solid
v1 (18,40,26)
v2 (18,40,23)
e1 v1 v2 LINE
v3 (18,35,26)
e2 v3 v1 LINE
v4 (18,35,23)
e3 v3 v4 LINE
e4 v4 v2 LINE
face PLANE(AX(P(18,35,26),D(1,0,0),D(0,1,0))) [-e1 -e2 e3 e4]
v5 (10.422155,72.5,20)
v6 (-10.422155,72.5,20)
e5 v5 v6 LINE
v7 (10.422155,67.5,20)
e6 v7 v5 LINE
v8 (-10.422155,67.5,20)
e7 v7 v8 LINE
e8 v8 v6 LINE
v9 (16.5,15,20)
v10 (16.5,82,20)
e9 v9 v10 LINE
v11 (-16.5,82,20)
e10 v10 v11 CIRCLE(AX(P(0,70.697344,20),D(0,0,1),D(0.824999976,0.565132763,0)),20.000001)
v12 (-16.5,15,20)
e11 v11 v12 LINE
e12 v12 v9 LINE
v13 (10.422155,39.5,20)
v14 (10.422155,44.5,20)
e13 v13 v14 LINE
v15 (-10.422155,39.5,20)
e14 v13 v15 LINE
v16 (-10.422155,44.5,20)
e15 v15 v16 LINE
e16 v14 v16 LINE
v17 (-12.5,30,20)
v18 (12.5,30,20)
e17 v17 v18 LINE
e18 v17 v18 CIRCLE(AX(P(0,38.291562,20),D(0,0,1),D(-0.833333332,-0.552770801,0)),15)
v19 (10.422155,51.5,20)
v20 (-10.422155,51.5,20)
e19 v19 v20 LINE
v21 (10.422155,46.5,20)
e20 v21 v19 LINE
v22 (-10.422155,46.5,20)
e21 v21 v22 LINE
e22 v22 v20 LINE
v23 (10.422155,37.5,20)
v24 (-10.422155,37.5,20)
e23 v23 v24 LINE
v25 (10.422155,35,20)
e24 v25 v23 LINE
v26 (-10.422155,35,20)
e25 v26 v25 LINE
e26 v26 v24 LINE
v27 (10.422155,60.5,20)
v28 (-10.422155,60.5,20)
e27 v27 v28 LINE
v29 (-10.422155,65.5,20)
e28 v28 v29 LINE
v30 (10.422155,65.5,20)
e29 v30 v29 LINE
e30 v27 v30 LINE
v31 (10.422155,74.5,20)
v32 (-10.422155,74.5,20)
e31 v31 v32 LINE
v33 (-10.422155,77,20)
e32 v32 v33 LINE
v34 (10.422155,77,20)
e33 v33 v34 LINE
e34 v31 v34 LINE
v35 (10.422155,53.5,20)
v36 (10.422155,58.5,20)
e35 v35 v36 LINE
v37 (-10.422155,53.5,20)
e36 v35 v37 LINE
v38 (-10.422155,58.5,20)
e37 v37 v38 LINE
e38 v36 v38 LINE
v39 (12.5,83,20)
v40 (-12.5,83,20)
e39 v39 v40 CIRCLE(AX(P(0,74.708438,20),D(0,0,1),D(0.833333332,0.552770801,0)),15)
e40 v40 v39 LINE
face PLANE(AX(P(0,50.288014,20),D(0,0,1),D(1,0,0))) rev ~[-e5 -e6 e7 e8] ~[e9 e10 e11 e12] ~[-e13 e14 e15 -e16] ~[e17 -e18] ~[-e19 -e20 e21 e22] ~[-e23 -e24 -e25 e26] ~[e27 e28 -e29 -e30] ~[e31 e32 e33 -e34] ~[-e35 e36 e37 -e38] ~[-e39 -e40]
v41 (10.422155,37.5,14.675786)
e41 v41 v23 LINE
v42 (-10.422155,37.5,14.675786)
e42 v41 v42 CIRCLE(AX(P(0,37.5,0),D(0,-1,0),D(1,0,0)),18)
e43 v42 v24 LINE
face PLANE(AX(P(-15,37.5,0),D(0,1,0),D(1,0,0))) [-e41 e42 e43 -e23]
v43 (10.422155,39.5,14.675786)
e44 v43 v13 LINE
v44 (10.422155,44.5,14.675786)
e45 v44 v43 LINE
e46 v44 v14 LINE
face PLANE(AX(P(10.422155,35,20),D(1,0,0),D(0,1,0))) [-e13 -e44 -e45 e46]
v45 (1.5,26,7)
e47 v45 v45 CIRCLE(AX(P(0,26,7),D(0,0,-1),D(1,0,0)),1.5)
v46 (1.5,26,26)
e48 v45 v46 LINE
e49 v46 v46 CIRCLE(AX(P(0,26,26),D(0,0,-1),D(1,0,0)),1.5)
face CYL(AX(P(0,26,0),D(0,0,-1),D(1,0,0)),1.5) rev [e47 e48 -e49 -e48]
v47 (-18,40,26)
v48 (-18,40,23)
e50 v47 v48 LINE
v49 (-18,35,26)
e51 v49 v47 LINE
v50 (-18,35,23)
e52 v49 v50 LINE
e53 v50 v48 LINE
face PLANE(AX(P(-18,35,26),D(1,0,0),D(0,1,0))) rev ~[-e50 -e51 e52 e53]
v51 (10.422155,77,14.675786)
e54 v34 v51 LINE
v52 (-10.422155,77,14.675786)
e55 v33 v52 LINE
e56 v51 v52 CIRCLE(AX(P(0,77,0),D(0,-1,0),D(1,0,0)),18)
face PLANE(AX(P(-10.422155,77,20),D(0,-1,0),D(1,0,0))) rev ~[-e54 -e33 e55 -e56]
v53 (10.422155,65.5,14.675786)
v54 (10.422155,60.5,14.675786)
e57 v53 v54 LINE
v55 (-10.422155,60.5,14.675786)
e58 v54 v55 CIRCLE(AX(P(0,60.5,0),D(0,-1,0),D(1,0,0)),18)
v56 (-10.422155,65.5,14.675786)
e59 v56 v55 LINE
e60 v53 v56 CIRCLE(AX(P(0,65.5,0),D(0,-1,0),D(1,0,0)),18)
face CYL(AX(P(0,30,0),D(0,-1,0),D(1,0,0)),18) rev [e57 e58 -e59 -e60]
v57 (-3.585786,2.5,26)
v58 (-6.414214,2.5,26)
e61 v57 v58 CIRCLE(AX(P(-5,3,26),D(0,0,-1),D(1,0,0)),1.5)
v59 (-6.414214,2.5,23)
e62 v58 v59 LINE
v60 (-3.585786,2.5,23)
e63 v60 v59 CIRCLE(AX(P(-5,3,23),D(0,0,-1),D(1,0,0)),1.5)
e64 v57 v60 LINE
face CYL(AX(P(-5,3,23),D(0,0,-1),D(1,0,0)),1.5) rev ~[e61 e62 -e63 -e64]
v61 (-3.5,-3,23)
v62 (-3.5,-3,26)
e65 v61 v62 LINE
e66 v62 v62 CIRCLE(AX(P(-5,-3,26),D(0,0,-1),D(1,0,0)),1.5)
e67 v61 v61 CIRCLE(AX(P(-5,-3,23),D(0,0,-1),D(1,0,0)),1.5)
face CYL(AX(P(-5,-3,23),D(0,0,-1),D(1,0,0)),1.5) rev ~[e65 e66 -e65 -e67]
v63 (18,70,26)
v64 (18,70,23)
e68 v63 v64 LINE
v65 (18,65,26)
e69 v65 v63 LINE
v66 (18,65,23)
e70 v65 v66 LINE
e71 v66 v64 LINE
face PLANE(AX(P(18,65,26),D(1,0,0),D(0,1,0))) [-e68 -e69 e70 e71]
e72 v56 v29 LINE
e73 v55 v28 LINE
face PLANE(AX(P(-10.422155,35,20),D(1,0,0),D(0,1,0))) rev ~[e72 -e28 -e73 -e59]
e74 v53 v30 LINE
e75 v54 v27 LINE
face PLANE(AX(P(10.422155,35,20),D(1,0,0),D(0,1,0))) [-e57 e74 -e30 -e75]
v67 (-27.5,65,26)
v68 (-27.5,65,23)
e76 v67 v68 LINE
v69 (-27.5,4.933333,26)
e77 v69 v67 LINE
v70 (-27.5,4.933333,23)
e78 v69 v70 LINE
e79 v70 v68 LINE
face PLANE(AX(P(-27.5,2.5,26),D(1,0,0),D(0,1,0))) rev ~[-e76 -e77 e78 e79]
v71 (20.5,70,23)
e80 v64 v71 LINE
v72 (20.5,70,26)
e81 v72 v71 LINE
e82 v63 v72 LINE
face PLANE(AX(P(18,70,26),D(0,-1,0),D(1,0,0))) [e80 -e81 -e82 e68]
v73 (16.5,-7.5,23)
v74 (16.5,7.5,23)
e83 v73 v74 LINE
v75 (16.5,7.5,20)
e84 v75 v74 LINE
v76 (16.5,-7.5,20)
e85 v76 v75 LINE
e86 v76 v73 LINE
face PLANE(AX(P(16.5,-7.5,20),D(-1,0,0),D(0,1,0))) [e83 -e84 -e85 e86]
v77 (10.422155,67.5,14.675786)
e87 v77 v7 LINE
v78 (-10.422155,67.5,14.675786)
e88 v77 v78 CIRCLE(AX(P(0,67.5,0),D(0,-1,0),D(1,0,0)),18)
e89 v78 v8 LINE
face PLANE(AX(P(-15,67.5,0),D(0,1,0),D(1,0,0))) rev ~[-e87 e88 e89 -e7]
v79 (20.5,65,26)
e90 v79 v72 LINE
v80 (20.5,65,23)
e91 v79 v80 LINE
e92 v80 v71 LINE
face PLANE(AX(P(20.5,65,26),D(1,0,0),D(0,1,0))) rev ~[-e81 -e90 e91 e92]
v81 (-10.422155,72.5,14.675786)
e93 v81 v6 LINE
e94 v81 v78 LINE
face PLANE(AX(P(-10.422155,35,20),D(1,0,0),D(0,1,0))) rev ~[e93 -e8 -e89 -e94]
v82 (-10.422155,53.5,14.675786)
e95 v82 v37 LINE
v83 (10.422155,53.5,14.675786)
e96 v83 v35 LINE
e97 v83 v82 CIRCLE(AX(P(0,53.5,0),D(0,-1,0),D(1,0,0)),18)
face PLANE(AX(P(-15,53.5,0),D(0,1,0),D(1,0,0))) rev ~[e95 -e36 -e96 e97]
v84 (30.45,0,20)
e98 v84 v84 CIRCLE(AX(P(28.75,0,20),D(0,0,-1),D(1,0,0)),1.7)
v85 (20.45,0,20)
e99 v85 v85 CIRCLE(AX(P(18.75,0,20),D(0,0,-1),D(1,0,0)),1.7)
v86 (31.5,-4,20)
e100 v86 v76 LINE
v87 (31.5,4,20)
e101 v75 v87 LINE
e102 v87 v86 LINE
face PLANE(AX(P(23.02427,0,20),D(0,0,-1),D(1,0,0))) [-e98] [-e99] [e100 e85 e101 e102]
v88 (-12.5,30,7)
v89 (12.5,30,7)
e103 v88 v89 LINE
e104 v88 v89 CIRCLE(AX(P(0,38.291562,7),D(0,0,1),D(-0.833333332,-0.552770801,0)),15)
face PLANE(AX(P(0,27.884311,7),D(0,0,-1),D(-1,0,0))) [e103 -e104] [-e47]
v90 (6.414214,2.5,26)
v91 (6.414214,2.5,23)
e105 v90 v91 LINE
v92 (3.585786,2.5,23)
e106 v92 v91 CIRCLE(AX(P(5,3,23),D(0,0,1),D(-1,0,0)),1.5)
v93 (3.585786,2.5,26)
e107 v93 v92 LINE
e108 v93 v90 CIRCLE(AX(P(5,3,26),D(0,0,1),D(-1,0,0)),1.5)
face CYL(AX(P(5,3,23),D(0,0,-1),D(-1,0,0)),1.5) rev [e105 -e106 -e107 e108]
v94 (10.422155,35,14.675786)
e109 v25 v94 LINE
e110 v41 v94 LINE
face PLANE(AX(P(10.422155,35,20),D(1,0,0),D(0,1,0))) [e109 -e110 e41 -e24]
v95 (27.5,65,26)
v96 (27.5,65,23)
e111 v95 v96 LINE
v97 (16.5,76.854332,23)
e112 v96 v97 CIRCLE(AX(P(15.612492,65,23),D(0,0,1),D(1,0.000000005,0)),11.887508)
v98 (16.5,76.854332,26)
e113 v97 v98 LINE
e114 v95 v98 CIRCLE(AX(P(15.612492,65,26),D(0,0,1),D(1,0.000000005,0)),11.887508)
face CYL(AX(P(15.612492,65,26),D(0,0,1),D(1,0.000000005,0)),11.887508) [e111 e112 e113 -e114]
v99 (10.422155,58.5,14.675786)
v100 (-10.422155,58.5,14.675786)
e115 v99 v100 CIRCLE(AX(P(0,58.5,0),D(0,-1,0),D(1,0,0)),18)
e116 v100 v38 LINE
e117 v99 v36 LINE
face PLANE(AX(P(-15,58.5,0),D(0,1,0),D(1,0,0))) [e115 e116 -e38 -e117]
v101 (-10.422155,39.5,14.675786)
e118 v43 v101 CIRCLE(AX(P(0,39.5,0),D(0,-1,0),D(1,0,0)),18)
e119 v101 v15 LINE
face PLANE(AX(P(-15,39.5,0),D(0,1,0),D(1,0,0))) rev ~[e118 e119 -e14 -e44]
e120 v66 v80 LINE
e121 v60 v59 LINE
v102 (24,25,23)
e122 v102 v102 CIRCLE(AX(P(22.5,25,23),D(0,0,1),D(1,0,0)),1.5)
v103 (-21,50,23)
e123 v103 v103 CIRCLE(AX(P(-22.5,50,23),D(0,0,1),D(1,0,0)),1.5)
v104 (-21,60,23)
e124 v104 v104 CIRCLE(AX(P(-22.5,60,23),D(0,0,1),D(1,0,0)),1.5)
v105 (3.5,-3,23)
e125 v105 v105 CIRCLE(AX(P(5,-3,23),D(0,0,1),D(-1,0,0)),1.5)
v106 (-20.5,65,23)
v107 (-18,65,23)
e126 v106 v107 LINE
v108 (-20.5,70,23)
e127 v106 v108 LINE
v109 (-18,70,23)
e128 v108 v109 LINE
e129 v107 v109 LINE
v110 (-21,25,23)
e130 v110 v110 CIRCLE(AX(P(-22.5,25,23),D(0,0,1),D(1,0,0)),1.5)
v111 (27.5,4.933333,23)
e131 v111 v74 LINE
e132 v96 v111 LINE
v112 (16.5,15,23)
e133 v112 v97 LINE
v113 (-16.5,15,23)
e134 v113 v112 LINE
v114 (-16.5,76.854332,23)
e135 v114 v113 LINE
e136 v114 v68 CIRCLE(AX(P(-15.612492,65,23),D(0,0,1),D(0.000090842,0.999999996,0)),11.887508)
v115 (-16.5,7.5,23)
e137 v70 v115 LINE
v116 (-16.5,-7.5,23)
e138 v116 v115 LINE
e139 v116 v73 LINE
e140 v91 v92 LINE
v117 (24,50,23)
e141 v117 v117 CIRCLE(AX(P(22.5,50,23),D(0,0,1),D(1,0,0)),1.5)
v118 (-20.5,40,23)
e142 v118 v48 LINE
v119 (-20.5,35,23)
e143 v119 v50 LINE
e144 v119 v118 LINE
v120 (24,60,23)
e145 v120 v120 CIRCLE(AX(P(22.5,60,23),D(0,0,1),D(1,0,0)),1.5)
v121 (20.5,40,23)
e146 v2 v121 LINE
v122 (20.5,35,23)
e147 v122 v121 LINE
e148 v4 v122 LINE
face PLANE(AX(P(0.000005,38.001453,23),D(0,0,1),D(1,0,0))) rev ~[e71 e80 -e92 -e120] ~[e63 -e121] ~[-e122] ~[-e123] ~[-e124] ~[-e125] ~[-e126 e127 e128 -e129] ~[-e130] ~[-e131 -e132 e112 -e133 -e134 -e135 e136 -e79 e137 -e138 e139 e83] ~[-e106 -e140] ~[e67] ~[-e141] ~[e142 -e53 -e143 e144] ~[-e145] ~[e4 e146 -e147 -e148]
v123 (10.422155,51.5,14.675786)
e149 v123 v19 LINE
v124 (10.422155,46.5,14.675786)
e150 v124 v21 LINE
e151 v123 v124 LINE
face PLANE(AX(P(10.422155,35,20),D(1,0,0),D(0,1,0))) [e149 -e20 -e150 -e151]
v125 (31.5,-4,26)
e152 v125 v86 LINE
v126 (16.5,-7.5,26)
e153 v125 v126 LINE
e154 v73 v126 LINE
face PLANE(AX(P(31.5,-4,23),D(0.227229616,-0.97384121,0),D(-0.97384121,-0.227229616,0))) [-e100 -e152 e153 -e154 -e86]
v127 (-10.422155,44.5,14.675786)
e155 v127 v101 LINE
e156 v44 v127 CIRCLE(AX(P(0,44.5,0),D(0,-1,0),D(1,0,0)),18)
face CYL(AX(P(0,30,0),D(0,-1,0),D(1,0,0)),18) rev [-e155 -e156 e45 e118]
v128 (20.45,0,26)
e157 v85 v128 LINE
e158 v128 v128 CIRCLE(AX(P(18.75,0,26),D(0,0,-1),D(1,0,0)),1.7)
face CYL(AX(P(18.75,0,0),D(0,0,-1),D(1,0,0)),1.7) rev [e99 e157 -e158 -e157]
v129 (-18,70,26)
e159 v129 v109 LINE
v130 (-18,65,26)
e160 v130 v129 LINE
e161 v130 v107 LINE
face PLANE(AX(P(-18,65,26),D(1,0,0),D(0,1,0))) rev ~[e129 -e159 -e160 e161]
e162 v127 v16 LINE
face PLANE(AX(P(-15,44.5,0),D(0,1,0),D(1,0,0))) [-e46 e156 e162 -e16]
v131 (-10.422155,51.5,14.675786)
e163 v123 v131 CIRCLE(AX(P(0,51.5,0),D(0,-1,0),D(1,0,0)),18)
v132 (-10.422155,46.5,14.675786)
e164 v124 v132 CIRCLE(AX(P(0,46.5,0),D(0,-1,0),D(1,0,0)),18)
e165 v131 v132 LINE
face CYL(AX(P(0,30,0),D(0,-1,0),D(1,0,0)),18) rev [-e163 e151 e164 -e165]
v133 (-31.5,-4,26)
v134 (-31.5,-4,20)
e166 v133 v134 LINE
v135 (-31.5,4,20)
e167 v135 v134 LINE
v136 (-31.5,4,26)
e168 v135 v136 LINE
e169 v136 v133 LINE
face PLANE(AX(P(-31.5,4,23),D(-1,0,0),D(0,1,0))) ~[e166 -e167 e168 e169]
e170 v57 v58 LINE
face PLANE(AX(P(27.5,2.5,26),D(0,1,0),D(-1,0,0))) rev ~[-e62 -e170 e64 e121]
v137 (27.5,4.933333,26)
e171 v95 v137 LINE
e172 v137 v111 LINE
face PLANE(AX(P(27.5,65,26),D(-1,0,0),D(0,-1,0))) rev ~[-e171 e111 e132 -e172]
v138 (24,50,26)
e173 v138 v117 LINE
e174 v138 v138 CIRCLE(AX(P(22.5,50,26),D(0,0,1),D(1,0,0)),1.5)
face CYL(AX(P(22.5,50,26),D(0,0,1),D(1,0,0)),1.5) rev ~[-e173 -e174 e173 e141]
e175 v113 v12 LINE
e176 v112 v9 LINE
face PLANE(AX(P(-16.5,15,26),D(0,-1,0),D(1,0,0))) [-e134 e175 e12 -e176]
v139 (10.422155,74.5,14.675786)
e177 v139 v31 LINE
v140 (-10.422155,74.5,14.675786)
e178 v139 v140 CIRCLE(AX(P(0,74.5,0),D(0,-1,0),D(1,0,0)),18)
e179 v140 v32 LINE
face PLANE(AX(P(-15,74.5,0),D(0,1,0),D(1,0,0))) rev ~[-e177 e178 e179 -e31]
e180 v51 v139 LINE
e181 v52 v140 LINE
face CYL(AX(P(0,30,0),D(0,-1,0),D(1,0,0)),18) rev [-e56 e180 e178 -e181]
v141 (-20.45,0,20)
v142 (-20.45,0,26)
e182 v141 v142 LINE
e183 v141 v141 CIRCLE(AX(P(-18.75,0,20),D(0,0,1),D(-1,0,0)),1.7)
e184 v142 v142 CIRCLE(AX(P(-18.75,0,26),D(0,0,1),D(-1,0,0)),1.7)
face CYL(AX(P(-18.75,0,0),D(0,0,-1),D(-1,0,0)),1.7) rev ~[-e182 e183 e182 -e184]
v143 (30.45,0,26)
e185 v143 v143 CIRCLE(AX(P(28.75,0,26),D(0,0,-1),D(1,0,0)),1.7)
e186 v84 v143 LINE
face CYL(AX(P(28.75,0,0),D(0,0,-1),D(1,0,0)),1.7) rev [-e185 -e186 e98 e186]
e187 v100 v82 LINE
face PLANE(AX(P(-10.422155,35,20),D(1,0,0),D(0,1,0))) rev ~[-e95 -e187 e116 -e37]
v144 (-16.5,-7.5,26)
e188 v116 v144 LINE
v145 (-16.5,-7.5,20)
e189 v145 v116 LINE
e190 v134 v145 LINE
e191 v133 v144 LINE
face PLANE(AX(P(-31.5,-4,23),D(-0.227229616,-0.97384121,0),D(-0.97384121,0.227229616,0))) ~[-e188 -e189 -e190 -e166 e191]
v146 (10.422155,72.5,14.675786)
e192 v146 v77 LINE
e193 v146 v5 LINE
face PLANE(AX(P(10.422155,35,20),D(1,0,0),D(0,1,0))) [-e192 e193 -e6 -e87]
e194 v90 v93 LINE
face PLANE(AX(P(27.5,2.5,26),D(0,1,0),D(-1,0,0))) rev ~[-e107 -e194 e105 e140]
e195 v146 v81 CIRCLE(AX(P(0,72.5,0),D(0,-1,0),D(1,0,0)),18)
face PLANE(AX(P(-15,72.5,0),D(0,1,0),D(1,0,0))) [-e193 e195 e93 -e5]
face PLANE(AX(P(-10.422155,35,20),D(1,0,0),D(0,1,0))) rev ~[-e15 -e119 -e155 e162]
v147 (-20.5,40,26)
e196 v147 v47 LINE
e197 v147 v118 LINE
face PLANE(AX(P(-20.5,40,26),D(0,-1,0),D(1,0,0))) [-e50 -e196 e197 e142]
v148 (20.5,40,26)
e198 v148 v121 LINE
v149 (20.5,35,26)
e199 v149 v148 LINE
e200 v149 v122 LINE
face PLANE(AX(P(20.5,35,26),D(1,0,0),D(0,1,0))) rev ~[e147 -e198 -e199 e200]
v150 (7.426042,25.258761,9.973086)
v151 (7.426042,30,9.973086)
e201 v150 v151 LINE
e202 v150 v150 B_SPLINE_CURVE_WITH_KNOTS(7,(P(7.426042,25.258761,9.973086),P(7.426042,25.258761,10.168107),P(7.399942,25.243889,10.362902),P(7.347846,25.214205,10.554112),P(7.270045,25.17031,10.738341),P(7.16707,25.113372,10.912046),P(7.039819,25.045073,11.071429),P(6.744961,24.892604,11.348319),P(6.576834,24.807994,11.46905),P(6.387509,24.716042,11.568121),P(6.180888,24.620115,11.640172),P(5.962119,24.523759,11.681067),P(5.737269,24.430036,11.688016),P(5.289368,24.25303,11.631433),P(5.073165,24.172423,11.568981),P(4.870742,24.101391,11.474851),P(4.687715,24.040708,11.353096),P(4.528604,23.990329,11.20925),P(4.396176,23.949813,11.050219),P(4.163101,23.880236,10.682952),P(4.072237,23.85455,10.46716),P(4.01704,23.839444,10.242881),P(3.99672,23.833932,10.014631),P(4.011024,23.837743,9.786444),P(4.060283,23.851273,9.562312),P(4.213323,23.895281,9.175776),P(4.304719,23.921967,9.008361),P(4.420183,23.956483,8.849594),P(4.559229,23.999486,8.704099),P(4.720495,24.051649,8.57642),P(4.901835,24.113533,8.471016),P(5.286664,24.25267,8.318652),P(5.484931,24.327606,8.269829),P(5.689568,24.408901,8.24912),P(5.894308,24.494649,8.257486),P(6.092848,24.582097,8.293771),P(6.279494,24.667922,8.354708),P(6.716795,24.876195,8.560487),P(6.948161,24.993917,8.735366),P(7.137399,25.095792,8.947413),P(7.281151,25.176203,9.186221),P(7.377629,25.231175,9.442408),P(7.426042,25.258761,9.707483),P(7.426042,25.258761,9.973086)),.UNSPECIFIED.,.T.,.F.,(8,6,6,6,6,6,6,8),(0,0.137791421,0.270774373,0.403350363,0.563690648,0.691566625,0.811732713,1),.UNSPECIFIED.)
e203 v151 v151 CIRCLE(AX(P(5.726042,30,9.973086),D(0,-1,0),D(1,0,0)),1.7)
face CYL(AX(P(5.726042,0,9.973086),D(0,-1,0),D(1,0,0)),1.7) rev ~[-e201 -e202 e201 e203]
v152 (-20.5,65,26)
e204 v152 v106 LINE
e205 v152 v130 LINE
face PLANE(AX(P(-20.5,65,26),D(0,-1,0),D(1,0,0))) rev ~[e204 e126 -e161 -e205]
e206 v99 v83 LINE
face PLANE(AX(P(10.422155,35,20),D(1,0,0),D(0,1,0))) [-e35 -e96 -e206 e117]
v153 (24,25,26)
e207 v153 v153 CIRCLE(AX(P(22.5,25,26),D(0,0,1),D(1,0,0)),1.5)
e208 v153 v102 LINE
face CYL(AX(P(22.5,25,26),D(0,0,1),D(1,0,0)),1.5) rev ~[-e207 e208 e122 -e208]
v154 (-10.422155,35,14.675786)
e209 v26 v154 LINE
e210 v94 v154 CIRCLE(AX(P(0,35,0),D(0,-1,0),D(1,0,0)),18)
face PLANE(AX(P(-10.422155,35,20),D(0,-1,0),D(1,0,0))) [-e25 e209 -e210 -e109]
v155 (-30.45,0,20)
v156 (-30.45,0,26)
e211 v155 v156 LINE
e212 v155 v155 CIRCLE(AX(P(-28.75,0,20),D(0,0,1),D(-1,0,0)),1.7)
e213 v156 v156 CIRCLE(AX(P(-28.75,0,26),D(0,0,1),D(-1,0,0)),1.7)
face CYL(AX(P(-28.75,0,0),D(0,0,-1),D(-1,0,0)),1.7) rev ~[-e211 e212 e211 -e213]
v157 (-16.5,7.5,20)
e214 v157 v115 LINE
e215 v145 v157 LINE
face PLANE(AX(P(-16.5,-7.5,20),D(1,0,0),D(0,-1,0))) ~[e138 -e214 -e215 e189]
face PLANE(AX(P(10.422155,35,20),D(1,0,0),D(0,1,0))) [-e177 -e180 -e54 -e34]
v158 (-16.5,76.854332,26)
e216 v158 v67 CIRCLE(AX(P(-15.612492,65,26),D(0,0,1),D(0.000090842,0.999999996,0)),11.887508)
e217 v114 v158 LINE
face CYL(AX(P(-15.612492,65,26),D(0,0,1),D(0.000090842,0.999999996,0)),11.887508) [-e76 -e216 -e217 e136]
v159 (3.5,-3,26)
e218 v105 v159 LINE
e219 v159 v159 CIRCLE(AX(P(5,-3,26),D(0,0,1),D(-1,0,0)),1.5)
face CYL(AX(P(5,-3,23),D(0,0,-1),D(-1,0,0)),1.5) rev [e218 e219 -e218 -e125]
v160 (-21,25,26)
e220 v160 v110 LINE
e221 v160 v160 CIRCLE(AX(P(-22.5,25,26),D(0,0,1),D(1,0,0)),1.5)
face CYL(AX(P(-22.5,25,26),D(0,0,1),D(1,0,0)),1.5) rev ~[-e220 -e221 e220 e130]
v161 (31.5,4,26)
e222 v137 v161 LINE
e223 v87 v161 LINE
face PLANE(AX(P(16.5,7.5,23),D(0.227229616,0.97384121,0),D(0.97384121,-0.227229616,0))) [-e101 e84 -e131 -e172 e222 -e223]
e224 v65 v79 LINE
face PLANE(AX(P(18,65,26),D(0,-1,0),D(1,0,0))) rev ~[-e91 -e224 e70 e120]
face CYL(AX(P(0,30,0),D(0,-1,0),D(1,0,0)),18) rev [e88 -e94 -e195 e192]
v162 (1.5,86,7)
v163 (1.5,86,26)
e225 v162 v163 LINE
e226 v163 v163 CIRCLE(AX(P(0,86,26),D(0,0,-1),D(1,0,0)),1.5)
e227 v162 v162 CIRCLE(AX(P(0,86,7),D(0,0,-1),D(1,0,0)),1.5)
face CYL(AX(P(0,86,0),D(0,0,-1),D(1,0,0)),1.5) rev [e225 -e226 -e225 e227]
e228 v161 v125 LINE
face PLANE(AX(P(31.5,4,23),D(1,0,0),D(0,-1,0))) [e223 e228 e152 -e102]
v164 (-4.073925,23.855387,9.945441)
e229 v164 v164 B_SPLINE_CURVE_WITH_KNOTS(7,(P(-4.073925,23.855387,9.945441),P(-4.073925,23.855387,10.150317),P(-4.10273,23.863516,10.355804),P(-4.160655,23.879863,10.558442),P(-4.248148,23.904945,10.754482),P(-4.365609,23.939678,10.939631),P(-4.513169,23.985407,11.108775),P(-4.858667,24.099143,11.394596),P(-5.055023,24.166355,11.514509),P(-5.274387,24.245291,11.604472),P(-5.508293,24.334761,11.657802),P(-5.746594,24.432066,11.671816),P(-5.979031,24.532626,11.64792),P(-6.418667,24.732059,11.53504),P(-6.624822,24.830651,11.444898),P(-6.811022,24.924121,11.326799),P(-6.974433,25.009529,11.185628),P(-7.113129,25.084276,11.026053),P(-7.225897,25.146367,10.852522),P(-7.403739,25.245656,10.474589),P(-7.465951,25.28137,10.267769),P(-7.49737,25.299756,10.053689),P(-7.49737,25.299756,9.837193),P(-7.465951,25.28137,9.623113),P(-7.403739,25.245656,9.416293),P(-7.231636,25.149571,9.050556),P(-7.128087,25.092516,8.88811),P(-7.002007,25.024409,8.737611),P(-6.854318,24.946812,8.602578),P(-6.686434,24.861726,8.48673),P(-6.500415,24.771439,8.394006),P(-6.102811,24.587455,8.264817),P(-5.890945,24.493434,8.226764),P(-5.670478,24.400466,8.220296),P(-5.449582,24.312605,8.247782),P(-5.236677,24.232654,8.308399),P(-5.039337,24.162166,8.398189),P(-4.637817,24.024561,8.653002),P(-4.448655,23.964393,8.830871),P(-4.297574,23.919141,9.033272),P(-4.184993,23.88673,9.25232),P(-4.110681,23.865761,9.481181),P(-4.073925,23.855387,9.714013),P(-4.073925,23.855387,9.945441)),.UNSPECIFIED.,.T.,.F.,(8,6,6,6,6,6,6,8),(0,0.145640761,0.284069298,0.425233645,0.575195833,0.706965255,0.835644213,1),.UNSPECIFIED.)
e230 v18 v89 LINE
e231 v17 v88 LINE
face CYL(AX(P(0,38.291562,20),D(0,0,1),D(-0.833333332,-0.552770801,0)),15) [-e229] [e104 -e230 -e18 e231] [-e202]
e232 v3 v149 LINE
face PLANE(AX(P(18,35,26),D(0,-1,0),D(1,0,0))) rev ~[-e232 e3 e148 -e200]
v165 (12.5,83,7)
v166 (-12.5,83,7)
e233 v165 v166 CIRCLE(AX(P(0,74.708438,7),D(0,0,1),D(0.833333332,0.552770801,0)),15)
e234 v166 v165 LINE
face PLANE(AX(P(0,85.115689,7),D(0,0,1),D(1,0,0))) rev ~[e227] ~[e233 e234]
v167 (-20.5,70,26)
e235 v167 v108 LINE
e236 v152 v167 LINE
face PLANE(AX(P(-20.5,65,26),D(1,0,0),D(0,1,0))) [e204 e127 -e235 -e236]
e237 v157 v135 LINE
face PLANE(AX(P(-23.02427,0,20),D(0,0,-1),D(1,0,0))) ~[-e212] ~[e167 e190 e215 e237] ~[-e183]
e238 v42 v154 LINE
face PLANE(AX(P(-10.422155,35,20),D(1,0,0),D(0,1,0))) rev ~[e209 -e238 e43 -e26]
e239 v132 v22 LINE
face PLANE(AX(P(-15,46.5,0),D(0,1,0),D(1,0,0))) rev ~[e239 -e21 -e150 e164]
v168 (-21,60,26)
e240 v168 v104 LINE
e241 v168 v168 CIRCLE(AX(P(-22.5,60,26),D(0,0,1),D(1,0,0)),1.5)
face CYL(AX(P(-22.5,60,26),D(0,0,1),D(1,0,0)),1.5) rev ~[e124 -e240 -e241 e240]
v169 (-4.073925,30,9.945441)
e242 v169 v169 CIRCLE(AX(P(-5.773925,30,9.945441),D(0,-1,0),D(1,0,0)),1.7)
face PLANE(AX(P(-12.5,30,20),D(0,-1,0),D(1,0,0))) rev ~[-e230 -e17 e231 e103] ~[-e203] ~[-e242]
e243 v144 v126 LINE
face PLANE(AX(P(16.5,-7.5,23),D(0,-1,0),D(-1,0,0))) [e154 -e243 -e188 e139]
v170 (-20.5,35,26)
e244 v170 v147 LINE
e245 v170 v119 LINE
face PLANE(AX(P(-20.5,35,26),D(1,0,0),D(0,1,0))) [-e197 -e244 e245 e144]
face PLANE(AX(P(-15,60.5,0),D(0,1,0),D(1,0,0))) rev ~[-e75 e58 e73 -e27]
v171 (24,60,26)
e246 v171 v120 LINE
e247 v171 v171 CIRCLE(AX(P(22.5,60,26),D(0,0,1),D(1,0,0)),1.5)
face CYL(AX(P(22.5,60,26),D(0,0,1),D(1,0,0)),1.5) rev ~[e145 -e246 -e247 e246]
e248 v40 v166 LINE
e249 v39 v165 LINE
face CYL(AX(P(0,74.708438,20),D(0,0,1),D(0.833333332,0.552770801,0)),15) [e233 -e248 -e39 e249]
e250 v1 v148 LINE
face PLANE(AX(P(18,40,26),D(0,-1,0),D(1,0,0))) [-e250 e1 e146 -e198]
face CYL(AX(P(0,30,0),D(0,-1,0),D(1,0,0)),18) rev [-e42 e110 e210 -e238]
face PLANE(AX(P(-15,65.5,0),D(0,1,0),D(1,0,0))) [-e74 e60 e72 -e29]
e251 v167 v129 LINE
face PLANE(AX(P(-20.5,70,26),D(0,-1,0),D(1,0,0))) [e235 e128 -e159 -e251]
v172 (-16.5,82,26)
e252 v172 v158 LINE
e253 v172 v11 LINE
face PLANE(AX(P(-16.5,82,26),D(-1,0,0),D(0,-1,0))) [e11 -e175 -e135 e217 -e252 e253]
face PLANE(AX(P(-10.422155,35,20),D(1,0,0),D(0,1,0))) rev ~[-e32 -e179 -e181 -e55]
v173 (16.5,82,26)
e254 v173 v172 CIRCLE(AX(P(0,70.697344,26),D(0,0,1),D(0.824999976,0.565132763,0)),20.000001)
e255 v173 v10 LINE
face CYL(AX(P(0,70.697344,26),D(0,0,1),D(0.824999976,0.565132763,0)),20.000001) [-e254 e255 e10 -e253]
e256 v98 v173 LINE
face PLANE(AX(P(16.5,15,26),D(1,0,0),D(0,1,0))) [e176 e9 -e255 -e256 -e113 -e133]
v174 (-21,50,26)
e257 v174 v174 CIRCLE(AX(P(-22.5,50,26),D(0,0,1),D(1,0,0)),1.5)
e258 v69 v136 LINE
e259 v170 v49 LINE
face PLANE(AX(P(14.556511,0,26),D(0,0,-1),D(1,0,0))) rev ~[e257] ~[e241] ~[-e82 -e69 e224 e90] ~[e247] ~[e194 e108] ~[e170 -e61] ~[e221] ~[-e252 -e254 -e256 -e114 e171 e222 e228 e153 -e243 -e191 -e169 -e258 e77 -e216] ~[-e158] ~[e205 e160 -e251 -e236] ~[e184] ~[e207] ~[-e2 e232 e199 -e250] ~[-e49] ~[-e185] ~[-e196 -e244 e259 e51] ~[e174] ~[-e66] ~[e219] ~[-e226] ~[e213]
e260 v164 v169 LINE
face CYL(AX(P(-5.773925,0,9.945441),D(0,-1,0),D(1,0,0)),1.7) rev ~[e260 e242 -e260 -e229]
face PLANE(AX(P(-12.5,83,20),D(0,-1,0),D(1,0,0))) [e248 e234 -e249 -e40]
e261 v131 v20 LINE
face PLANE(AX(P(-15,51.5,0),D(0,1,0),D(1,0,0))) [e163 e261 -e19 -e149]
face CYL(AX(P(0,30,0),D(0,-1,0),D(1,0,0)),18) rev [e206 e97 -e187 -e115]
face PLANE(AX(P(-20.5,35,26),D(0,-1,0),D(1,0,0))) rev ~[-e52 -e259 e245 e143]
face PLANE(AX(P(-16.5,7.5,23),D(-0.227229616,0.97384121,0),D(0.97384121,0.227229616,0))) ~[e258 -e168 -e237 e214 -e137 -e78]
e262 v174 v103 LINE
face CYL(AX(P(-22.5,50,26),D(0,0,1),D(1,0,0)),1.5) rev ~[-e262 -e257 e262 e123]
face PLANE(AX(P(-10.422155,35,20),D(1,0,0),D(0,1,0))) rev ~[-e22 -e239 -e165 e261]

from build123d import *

# Parameters (mm, degrees)
SKETCH093_R            = 1.5
PAD070_DEPTH           = 100
CYLINDER003_R          = 6
CYLINDER003_DEPTH      = 80
CYLINDER003_ROLL_ANGLE = -90
CYLINDER004_R          = 18
CYLINDER004_DEPTH      = 52.25
CYLINDER004_ROLL_ANGLE = -90
CHAMFER005_SIZE        = 3
SKETCH060_W            = 30
SKETCH060_H            = 2
PAD043_DEPTH           = 100
ARRAY001_Y_COUNT       = 15
ARRAY001_Y_PITCH       = 7
SKETCH059_W            = 20.84431
SKETCH059_H            = 42
PAD042_DEPTH           = 10
SKETCH062_R            = 1.7
PAD045_DEPTH           = 40
PAD044_DEPTH           = 13
PAD068_DEPTH           = 6
SKETCH090_R            = 1.7
PAD067_DEPTH           = 100
SKETCH089_R            = 1.5
PAD066_DEPTH           = 3
PAD065_DEPTH           = 3
SKETCH092_R            = 1.5
SKETCH092_W            = 2.5
SKETCH092_H            = 5
PAD069_DEPTH           = 3


with BuildPart() as pad070:
    # Sketch093 → Pad070 (new body)
    with BuildSketch(Plane.XY):
        with Locations((0, 86)):
            Circle(SKETCH093_R)
        with Locations((0, 26)):
            Circle(SKETCH093_R)
    extrude(amount=PAD070_DEPTH)


with BuildPart() as axlestubcutout:
    # Cylinder003 → Cylinder003 (new body)
    with BuildSketch(Plane.XY):
        Circle(CYLINDER003_R)
    extrude(amount=CYLINDER003_DEPTH)


with BuildPart() as axlestubcutout_1:
    # Cylinder003 roll: moved
    add(axlestubcutout.part.rotate(Axis((0, 0, 0), (1, 0, 0)), CYLINDER003_ROLL_ANGLE))


with BuildPart() as axlestubcutout_2:
    # Cylinder003 placement: moved
    add(axlestubcutout_1.part)


with BuildPart() as motorcutout:
    # Cylinder004 → Cylinder004 (new body)
    with BuildSketch(Plane.XY):
        Circle(CYLINDER004_R)
    extrude(amount=CYLINDER004_DEPTH)


with BuildPart() as motorcutout_1:
    # Cylinder004 roll: moved
    add(motorcutout.part.rotate(Axis((0, 0, 0), (1, 0, 0)), CYLINDER004_ROLL_ANGLE))


with BuildPart() as motorcutout_2:
    # Cylinder004 placement: moved
    add(motorcutout_1.part.moved(Location((0, 30, 0))))

    # Chamfer005
    chamfer005_edges = [motorcutout_2.edges().sort_by_distance(p)[0] for p in [
        (-18, 30, 0),
        (-18, 82.25, 0),
    ]]
    chamfer(chamfer005_edges, length=CHAMFER005_SIZE)

    # Fusion004012: union AxleStubCutout
    add(axlestubcutout_2.part)


with BuildPart() as fincutout:
    # Sketch060 → Pad043 (new body)
    with BuildSketch(Plane.XY):
        with Locations((0, 1)):
            Rectangle(SKETCH060_W, SKETCH060_H)
    extrude(amount=PAD043_DEPTH)

    # Array001 Y: FinCutout ×15


with BuildPart() as fincutout_1:
    add(fincutout.part)
    with Locations(*[(0, i * ARRAY001_Y_PITCH, 0) for i in range(1, ARRAY001_Y_COUNT)]):
        add(fincutout.part)


with BuildPart() as fincutout_2:
    # Array001 placement: moved
    add(fincutout_1.part.moved(Location((0, 2.5, 0))))


with BuildPart() as motormountfins:
    # Sketch059 → Pad042 (new body)
    with BuildSketch(Plane.XY.offset(20)):
        with Locations((0, 56)):
            Rectangle(SKETCH059_W, SKETCH059_H)
    extrude(amount=-PAD042_DEPTH)

    # Cut007012: cut FinCutout
    add(fincutout_2.part, mode=Mode.SUBTRACT)

    # Cut007013: cut MotorCutout
    add(motorcutout_2.part, mode=Mode.SUBTRACT)


with BuildPart() as motorscrewcutouts:
    # Sketch062 → Pad045 (new body)
    with BuildSketch(Plane.XZ):
        with Locations((-5.773925, 9.945441)):
            Circle(SKETCH062_R)
        with Locations((5.726042, 9.973086)):
            Circle(SKETCH062_R)
    extrude(amount=-PAD045_DEPTH)


with BuildPart() as motormountendcaps:
    # Sketch061 → Pad044 (new body)
    with BuildSketch(Plane.XY.offset(20)):
        with BuildLine():
            ThreePointArc((12.5, 83), (0, 89.708438), (-12.5, 83))
            Line((-12.5, 83), (12.5, 83))
        make_face()
        with BuildLine():
            Line((-12.5, 30), (12.5, 30))
            ThreePointArc((-12.5, 30), (0, 23.291562), (12.5, 30))
        make_face()
    extrude(amount=-PAD044_DEPTH)

    # Cut007015: cut MotorScrewCutouts
    add(motorscrewcutouts.part, mode=Mode.SUBTRACT)


with BuildPart() as pad068:
    # Sketch091 → Pad068 (new body)
    with BuildSketch(Plane.XY.offset(26)):
        with BuildLine():
            Line((-16.5, 15), (16.5, 15))
            Line((16.5, 15), (16.5, 82))
            ThreePointArc((16.5, 82), (0, 90.697345), (-16.5, 82))
            Line((-16.5, 82), (-16.5, 15))
        make_face()
    extrude(amount=-PAD068_DEPTH)


with BuildPart() as mountscrewcutouts:
    # Sketch090 → Pad067 (new body)
    with BuildSketch(Plane.XY):
        with Locations((28.75, 0)):
            Circle(SKETCH090_R)
        with Locations((18.75, 0)):
            Circle(SKETCH090_R)
    extrude(amount=PAD067_DEPTH)


with BuildPart() as baseplate:
    # Sketch089 → Pad066 (new body)
    with BuildSketch(Plane(origin=(0, 0, 23), x_dir=(-1, 0, 0), z_dir=(0, 0, 1))):
        Polygon((-31.5, -4), (-31.5, 4), (-16.5, 7.5), (0, 7.5), (0, -7.5), (-16.5, -7.5), align=None)
        with Locations((-5, 3)):
            Circle(SKETCH089_R, mode=Mode.SUBTRACT)
        with Locations((-5, -3)):
            Circle(SKETCH089_R, mode=Mode.SUBTRACT)
    extrude(amount=PAD066_DEPTH)


with BuildPart() as supportplate:
    # Sketch088 → Pad065 (new body)
    with BuildSketch(Plane(origin=(0, 0, 20), x_dir=(-1, 0, 0), z_dir=(0, 0, 1))):
        Polygon((-31.5, -4), (-31.5, 4), (-16.5, 7.5), (-16.5, -7.5), align=None)
    extrude(amount=PAD065_DEPTH)

    # Fusion004026: union BasePlate
    add(baseplate.part)

    # Cut007019005: cut MountScrewCutouts
    add(mountscrewcutouts.part, mode=Mode.SUBTRACT)


with BuildPart() as fusion004027:
    # Part__Mirroring002: instance of SupportPlate
    add(supportplate.part.mirror(Plane(origin=(0, 0, 0), x_dir=(0, -1, 0), z_dir=(1, 0, 0))))

    # Fusion004027: union SupportPlate
    add(supportplate.part)


with BuildPart() as maintopplatewithmotormount:
    # Sketch092 → Pad069 (new body)
    with BuildSketch(Plane.XY.offset(26)):
        with BuildLine():
            ThreePointArc((-15.611412, 76.887508), (-24.017848, 73.406119), (-27.5, 65))
            Line((-27.5, 2.5), (-27.5, 65))
            Line((27.5, 2.5), (-27.5, 2.5))
            Line((27.5, 65), (27.5, 2.5))
            ThreePointArc((27.5, 65), (24.018229, 73.405738), (15.612492, 76.887508))
            Line((-15.611412, 76.887508), (15.612492, 76.887508))
        make_face()
        with Locations((-22.5, 60)):
            Circle(SKETCH092_R, mode=Mode.SUBTRACT)
        with Locations((-22.5, 50)):
            Circle(SKETCH092_R, mode=Mode.SUBTRACT)
        with Locations((-22.5, 25)):
            Circle(SKETCH092_R, mode=Mode.SUBTRACT)
        with Locations((22.5, 60)):
            Circle(SKETCH092_R, mode=Mode.SUBTRACT)
        with Locations((22.5, 50)):
            Circle(SKETCH092_R, mode=Mode.SUBTRACT)
        with Locations((22.5, 25)):
            Circle(SKETCH092_R, mode=Mode.SUBTRACT)
        with Locations((-19.25, 67.5)):
            Rectangle(SKETCH092_W, SKETCH092_H, mode=Mode.SUBTRACT)
        with Locations((19.25, 67.5)):
            Rectangle(SKETCH092_W, SKETCH092_H, mode=Mode.SUBTRACT)
        with Locations((19.25, 37.5)):
            Rectangle(SKETCH092_W, SKETCH092_H, mode=Mode.SUBTRACT)
        with Locations((-19.25, 37.5)):
            Rectangle(SKETCH092_W, SKETCH092_H, mode=Mode.SUBTRACT)
    extrude(amount=-PAD069_DEPTH)

    # Fusion004028: union Pad068, Fusion004027
    add(pad068.part)
    add(fusion004027.part)

    # Fusion004029: union MotorMountFins, MotorMountEndCaps
    add(motormountfins.part)
    add(motormountendcaps.part)

    # Cut007019006: cut Pad070
    add(pad070.part, mode=Mode.SUBTRACT)


solid = maintopplatewithmotormount.part
